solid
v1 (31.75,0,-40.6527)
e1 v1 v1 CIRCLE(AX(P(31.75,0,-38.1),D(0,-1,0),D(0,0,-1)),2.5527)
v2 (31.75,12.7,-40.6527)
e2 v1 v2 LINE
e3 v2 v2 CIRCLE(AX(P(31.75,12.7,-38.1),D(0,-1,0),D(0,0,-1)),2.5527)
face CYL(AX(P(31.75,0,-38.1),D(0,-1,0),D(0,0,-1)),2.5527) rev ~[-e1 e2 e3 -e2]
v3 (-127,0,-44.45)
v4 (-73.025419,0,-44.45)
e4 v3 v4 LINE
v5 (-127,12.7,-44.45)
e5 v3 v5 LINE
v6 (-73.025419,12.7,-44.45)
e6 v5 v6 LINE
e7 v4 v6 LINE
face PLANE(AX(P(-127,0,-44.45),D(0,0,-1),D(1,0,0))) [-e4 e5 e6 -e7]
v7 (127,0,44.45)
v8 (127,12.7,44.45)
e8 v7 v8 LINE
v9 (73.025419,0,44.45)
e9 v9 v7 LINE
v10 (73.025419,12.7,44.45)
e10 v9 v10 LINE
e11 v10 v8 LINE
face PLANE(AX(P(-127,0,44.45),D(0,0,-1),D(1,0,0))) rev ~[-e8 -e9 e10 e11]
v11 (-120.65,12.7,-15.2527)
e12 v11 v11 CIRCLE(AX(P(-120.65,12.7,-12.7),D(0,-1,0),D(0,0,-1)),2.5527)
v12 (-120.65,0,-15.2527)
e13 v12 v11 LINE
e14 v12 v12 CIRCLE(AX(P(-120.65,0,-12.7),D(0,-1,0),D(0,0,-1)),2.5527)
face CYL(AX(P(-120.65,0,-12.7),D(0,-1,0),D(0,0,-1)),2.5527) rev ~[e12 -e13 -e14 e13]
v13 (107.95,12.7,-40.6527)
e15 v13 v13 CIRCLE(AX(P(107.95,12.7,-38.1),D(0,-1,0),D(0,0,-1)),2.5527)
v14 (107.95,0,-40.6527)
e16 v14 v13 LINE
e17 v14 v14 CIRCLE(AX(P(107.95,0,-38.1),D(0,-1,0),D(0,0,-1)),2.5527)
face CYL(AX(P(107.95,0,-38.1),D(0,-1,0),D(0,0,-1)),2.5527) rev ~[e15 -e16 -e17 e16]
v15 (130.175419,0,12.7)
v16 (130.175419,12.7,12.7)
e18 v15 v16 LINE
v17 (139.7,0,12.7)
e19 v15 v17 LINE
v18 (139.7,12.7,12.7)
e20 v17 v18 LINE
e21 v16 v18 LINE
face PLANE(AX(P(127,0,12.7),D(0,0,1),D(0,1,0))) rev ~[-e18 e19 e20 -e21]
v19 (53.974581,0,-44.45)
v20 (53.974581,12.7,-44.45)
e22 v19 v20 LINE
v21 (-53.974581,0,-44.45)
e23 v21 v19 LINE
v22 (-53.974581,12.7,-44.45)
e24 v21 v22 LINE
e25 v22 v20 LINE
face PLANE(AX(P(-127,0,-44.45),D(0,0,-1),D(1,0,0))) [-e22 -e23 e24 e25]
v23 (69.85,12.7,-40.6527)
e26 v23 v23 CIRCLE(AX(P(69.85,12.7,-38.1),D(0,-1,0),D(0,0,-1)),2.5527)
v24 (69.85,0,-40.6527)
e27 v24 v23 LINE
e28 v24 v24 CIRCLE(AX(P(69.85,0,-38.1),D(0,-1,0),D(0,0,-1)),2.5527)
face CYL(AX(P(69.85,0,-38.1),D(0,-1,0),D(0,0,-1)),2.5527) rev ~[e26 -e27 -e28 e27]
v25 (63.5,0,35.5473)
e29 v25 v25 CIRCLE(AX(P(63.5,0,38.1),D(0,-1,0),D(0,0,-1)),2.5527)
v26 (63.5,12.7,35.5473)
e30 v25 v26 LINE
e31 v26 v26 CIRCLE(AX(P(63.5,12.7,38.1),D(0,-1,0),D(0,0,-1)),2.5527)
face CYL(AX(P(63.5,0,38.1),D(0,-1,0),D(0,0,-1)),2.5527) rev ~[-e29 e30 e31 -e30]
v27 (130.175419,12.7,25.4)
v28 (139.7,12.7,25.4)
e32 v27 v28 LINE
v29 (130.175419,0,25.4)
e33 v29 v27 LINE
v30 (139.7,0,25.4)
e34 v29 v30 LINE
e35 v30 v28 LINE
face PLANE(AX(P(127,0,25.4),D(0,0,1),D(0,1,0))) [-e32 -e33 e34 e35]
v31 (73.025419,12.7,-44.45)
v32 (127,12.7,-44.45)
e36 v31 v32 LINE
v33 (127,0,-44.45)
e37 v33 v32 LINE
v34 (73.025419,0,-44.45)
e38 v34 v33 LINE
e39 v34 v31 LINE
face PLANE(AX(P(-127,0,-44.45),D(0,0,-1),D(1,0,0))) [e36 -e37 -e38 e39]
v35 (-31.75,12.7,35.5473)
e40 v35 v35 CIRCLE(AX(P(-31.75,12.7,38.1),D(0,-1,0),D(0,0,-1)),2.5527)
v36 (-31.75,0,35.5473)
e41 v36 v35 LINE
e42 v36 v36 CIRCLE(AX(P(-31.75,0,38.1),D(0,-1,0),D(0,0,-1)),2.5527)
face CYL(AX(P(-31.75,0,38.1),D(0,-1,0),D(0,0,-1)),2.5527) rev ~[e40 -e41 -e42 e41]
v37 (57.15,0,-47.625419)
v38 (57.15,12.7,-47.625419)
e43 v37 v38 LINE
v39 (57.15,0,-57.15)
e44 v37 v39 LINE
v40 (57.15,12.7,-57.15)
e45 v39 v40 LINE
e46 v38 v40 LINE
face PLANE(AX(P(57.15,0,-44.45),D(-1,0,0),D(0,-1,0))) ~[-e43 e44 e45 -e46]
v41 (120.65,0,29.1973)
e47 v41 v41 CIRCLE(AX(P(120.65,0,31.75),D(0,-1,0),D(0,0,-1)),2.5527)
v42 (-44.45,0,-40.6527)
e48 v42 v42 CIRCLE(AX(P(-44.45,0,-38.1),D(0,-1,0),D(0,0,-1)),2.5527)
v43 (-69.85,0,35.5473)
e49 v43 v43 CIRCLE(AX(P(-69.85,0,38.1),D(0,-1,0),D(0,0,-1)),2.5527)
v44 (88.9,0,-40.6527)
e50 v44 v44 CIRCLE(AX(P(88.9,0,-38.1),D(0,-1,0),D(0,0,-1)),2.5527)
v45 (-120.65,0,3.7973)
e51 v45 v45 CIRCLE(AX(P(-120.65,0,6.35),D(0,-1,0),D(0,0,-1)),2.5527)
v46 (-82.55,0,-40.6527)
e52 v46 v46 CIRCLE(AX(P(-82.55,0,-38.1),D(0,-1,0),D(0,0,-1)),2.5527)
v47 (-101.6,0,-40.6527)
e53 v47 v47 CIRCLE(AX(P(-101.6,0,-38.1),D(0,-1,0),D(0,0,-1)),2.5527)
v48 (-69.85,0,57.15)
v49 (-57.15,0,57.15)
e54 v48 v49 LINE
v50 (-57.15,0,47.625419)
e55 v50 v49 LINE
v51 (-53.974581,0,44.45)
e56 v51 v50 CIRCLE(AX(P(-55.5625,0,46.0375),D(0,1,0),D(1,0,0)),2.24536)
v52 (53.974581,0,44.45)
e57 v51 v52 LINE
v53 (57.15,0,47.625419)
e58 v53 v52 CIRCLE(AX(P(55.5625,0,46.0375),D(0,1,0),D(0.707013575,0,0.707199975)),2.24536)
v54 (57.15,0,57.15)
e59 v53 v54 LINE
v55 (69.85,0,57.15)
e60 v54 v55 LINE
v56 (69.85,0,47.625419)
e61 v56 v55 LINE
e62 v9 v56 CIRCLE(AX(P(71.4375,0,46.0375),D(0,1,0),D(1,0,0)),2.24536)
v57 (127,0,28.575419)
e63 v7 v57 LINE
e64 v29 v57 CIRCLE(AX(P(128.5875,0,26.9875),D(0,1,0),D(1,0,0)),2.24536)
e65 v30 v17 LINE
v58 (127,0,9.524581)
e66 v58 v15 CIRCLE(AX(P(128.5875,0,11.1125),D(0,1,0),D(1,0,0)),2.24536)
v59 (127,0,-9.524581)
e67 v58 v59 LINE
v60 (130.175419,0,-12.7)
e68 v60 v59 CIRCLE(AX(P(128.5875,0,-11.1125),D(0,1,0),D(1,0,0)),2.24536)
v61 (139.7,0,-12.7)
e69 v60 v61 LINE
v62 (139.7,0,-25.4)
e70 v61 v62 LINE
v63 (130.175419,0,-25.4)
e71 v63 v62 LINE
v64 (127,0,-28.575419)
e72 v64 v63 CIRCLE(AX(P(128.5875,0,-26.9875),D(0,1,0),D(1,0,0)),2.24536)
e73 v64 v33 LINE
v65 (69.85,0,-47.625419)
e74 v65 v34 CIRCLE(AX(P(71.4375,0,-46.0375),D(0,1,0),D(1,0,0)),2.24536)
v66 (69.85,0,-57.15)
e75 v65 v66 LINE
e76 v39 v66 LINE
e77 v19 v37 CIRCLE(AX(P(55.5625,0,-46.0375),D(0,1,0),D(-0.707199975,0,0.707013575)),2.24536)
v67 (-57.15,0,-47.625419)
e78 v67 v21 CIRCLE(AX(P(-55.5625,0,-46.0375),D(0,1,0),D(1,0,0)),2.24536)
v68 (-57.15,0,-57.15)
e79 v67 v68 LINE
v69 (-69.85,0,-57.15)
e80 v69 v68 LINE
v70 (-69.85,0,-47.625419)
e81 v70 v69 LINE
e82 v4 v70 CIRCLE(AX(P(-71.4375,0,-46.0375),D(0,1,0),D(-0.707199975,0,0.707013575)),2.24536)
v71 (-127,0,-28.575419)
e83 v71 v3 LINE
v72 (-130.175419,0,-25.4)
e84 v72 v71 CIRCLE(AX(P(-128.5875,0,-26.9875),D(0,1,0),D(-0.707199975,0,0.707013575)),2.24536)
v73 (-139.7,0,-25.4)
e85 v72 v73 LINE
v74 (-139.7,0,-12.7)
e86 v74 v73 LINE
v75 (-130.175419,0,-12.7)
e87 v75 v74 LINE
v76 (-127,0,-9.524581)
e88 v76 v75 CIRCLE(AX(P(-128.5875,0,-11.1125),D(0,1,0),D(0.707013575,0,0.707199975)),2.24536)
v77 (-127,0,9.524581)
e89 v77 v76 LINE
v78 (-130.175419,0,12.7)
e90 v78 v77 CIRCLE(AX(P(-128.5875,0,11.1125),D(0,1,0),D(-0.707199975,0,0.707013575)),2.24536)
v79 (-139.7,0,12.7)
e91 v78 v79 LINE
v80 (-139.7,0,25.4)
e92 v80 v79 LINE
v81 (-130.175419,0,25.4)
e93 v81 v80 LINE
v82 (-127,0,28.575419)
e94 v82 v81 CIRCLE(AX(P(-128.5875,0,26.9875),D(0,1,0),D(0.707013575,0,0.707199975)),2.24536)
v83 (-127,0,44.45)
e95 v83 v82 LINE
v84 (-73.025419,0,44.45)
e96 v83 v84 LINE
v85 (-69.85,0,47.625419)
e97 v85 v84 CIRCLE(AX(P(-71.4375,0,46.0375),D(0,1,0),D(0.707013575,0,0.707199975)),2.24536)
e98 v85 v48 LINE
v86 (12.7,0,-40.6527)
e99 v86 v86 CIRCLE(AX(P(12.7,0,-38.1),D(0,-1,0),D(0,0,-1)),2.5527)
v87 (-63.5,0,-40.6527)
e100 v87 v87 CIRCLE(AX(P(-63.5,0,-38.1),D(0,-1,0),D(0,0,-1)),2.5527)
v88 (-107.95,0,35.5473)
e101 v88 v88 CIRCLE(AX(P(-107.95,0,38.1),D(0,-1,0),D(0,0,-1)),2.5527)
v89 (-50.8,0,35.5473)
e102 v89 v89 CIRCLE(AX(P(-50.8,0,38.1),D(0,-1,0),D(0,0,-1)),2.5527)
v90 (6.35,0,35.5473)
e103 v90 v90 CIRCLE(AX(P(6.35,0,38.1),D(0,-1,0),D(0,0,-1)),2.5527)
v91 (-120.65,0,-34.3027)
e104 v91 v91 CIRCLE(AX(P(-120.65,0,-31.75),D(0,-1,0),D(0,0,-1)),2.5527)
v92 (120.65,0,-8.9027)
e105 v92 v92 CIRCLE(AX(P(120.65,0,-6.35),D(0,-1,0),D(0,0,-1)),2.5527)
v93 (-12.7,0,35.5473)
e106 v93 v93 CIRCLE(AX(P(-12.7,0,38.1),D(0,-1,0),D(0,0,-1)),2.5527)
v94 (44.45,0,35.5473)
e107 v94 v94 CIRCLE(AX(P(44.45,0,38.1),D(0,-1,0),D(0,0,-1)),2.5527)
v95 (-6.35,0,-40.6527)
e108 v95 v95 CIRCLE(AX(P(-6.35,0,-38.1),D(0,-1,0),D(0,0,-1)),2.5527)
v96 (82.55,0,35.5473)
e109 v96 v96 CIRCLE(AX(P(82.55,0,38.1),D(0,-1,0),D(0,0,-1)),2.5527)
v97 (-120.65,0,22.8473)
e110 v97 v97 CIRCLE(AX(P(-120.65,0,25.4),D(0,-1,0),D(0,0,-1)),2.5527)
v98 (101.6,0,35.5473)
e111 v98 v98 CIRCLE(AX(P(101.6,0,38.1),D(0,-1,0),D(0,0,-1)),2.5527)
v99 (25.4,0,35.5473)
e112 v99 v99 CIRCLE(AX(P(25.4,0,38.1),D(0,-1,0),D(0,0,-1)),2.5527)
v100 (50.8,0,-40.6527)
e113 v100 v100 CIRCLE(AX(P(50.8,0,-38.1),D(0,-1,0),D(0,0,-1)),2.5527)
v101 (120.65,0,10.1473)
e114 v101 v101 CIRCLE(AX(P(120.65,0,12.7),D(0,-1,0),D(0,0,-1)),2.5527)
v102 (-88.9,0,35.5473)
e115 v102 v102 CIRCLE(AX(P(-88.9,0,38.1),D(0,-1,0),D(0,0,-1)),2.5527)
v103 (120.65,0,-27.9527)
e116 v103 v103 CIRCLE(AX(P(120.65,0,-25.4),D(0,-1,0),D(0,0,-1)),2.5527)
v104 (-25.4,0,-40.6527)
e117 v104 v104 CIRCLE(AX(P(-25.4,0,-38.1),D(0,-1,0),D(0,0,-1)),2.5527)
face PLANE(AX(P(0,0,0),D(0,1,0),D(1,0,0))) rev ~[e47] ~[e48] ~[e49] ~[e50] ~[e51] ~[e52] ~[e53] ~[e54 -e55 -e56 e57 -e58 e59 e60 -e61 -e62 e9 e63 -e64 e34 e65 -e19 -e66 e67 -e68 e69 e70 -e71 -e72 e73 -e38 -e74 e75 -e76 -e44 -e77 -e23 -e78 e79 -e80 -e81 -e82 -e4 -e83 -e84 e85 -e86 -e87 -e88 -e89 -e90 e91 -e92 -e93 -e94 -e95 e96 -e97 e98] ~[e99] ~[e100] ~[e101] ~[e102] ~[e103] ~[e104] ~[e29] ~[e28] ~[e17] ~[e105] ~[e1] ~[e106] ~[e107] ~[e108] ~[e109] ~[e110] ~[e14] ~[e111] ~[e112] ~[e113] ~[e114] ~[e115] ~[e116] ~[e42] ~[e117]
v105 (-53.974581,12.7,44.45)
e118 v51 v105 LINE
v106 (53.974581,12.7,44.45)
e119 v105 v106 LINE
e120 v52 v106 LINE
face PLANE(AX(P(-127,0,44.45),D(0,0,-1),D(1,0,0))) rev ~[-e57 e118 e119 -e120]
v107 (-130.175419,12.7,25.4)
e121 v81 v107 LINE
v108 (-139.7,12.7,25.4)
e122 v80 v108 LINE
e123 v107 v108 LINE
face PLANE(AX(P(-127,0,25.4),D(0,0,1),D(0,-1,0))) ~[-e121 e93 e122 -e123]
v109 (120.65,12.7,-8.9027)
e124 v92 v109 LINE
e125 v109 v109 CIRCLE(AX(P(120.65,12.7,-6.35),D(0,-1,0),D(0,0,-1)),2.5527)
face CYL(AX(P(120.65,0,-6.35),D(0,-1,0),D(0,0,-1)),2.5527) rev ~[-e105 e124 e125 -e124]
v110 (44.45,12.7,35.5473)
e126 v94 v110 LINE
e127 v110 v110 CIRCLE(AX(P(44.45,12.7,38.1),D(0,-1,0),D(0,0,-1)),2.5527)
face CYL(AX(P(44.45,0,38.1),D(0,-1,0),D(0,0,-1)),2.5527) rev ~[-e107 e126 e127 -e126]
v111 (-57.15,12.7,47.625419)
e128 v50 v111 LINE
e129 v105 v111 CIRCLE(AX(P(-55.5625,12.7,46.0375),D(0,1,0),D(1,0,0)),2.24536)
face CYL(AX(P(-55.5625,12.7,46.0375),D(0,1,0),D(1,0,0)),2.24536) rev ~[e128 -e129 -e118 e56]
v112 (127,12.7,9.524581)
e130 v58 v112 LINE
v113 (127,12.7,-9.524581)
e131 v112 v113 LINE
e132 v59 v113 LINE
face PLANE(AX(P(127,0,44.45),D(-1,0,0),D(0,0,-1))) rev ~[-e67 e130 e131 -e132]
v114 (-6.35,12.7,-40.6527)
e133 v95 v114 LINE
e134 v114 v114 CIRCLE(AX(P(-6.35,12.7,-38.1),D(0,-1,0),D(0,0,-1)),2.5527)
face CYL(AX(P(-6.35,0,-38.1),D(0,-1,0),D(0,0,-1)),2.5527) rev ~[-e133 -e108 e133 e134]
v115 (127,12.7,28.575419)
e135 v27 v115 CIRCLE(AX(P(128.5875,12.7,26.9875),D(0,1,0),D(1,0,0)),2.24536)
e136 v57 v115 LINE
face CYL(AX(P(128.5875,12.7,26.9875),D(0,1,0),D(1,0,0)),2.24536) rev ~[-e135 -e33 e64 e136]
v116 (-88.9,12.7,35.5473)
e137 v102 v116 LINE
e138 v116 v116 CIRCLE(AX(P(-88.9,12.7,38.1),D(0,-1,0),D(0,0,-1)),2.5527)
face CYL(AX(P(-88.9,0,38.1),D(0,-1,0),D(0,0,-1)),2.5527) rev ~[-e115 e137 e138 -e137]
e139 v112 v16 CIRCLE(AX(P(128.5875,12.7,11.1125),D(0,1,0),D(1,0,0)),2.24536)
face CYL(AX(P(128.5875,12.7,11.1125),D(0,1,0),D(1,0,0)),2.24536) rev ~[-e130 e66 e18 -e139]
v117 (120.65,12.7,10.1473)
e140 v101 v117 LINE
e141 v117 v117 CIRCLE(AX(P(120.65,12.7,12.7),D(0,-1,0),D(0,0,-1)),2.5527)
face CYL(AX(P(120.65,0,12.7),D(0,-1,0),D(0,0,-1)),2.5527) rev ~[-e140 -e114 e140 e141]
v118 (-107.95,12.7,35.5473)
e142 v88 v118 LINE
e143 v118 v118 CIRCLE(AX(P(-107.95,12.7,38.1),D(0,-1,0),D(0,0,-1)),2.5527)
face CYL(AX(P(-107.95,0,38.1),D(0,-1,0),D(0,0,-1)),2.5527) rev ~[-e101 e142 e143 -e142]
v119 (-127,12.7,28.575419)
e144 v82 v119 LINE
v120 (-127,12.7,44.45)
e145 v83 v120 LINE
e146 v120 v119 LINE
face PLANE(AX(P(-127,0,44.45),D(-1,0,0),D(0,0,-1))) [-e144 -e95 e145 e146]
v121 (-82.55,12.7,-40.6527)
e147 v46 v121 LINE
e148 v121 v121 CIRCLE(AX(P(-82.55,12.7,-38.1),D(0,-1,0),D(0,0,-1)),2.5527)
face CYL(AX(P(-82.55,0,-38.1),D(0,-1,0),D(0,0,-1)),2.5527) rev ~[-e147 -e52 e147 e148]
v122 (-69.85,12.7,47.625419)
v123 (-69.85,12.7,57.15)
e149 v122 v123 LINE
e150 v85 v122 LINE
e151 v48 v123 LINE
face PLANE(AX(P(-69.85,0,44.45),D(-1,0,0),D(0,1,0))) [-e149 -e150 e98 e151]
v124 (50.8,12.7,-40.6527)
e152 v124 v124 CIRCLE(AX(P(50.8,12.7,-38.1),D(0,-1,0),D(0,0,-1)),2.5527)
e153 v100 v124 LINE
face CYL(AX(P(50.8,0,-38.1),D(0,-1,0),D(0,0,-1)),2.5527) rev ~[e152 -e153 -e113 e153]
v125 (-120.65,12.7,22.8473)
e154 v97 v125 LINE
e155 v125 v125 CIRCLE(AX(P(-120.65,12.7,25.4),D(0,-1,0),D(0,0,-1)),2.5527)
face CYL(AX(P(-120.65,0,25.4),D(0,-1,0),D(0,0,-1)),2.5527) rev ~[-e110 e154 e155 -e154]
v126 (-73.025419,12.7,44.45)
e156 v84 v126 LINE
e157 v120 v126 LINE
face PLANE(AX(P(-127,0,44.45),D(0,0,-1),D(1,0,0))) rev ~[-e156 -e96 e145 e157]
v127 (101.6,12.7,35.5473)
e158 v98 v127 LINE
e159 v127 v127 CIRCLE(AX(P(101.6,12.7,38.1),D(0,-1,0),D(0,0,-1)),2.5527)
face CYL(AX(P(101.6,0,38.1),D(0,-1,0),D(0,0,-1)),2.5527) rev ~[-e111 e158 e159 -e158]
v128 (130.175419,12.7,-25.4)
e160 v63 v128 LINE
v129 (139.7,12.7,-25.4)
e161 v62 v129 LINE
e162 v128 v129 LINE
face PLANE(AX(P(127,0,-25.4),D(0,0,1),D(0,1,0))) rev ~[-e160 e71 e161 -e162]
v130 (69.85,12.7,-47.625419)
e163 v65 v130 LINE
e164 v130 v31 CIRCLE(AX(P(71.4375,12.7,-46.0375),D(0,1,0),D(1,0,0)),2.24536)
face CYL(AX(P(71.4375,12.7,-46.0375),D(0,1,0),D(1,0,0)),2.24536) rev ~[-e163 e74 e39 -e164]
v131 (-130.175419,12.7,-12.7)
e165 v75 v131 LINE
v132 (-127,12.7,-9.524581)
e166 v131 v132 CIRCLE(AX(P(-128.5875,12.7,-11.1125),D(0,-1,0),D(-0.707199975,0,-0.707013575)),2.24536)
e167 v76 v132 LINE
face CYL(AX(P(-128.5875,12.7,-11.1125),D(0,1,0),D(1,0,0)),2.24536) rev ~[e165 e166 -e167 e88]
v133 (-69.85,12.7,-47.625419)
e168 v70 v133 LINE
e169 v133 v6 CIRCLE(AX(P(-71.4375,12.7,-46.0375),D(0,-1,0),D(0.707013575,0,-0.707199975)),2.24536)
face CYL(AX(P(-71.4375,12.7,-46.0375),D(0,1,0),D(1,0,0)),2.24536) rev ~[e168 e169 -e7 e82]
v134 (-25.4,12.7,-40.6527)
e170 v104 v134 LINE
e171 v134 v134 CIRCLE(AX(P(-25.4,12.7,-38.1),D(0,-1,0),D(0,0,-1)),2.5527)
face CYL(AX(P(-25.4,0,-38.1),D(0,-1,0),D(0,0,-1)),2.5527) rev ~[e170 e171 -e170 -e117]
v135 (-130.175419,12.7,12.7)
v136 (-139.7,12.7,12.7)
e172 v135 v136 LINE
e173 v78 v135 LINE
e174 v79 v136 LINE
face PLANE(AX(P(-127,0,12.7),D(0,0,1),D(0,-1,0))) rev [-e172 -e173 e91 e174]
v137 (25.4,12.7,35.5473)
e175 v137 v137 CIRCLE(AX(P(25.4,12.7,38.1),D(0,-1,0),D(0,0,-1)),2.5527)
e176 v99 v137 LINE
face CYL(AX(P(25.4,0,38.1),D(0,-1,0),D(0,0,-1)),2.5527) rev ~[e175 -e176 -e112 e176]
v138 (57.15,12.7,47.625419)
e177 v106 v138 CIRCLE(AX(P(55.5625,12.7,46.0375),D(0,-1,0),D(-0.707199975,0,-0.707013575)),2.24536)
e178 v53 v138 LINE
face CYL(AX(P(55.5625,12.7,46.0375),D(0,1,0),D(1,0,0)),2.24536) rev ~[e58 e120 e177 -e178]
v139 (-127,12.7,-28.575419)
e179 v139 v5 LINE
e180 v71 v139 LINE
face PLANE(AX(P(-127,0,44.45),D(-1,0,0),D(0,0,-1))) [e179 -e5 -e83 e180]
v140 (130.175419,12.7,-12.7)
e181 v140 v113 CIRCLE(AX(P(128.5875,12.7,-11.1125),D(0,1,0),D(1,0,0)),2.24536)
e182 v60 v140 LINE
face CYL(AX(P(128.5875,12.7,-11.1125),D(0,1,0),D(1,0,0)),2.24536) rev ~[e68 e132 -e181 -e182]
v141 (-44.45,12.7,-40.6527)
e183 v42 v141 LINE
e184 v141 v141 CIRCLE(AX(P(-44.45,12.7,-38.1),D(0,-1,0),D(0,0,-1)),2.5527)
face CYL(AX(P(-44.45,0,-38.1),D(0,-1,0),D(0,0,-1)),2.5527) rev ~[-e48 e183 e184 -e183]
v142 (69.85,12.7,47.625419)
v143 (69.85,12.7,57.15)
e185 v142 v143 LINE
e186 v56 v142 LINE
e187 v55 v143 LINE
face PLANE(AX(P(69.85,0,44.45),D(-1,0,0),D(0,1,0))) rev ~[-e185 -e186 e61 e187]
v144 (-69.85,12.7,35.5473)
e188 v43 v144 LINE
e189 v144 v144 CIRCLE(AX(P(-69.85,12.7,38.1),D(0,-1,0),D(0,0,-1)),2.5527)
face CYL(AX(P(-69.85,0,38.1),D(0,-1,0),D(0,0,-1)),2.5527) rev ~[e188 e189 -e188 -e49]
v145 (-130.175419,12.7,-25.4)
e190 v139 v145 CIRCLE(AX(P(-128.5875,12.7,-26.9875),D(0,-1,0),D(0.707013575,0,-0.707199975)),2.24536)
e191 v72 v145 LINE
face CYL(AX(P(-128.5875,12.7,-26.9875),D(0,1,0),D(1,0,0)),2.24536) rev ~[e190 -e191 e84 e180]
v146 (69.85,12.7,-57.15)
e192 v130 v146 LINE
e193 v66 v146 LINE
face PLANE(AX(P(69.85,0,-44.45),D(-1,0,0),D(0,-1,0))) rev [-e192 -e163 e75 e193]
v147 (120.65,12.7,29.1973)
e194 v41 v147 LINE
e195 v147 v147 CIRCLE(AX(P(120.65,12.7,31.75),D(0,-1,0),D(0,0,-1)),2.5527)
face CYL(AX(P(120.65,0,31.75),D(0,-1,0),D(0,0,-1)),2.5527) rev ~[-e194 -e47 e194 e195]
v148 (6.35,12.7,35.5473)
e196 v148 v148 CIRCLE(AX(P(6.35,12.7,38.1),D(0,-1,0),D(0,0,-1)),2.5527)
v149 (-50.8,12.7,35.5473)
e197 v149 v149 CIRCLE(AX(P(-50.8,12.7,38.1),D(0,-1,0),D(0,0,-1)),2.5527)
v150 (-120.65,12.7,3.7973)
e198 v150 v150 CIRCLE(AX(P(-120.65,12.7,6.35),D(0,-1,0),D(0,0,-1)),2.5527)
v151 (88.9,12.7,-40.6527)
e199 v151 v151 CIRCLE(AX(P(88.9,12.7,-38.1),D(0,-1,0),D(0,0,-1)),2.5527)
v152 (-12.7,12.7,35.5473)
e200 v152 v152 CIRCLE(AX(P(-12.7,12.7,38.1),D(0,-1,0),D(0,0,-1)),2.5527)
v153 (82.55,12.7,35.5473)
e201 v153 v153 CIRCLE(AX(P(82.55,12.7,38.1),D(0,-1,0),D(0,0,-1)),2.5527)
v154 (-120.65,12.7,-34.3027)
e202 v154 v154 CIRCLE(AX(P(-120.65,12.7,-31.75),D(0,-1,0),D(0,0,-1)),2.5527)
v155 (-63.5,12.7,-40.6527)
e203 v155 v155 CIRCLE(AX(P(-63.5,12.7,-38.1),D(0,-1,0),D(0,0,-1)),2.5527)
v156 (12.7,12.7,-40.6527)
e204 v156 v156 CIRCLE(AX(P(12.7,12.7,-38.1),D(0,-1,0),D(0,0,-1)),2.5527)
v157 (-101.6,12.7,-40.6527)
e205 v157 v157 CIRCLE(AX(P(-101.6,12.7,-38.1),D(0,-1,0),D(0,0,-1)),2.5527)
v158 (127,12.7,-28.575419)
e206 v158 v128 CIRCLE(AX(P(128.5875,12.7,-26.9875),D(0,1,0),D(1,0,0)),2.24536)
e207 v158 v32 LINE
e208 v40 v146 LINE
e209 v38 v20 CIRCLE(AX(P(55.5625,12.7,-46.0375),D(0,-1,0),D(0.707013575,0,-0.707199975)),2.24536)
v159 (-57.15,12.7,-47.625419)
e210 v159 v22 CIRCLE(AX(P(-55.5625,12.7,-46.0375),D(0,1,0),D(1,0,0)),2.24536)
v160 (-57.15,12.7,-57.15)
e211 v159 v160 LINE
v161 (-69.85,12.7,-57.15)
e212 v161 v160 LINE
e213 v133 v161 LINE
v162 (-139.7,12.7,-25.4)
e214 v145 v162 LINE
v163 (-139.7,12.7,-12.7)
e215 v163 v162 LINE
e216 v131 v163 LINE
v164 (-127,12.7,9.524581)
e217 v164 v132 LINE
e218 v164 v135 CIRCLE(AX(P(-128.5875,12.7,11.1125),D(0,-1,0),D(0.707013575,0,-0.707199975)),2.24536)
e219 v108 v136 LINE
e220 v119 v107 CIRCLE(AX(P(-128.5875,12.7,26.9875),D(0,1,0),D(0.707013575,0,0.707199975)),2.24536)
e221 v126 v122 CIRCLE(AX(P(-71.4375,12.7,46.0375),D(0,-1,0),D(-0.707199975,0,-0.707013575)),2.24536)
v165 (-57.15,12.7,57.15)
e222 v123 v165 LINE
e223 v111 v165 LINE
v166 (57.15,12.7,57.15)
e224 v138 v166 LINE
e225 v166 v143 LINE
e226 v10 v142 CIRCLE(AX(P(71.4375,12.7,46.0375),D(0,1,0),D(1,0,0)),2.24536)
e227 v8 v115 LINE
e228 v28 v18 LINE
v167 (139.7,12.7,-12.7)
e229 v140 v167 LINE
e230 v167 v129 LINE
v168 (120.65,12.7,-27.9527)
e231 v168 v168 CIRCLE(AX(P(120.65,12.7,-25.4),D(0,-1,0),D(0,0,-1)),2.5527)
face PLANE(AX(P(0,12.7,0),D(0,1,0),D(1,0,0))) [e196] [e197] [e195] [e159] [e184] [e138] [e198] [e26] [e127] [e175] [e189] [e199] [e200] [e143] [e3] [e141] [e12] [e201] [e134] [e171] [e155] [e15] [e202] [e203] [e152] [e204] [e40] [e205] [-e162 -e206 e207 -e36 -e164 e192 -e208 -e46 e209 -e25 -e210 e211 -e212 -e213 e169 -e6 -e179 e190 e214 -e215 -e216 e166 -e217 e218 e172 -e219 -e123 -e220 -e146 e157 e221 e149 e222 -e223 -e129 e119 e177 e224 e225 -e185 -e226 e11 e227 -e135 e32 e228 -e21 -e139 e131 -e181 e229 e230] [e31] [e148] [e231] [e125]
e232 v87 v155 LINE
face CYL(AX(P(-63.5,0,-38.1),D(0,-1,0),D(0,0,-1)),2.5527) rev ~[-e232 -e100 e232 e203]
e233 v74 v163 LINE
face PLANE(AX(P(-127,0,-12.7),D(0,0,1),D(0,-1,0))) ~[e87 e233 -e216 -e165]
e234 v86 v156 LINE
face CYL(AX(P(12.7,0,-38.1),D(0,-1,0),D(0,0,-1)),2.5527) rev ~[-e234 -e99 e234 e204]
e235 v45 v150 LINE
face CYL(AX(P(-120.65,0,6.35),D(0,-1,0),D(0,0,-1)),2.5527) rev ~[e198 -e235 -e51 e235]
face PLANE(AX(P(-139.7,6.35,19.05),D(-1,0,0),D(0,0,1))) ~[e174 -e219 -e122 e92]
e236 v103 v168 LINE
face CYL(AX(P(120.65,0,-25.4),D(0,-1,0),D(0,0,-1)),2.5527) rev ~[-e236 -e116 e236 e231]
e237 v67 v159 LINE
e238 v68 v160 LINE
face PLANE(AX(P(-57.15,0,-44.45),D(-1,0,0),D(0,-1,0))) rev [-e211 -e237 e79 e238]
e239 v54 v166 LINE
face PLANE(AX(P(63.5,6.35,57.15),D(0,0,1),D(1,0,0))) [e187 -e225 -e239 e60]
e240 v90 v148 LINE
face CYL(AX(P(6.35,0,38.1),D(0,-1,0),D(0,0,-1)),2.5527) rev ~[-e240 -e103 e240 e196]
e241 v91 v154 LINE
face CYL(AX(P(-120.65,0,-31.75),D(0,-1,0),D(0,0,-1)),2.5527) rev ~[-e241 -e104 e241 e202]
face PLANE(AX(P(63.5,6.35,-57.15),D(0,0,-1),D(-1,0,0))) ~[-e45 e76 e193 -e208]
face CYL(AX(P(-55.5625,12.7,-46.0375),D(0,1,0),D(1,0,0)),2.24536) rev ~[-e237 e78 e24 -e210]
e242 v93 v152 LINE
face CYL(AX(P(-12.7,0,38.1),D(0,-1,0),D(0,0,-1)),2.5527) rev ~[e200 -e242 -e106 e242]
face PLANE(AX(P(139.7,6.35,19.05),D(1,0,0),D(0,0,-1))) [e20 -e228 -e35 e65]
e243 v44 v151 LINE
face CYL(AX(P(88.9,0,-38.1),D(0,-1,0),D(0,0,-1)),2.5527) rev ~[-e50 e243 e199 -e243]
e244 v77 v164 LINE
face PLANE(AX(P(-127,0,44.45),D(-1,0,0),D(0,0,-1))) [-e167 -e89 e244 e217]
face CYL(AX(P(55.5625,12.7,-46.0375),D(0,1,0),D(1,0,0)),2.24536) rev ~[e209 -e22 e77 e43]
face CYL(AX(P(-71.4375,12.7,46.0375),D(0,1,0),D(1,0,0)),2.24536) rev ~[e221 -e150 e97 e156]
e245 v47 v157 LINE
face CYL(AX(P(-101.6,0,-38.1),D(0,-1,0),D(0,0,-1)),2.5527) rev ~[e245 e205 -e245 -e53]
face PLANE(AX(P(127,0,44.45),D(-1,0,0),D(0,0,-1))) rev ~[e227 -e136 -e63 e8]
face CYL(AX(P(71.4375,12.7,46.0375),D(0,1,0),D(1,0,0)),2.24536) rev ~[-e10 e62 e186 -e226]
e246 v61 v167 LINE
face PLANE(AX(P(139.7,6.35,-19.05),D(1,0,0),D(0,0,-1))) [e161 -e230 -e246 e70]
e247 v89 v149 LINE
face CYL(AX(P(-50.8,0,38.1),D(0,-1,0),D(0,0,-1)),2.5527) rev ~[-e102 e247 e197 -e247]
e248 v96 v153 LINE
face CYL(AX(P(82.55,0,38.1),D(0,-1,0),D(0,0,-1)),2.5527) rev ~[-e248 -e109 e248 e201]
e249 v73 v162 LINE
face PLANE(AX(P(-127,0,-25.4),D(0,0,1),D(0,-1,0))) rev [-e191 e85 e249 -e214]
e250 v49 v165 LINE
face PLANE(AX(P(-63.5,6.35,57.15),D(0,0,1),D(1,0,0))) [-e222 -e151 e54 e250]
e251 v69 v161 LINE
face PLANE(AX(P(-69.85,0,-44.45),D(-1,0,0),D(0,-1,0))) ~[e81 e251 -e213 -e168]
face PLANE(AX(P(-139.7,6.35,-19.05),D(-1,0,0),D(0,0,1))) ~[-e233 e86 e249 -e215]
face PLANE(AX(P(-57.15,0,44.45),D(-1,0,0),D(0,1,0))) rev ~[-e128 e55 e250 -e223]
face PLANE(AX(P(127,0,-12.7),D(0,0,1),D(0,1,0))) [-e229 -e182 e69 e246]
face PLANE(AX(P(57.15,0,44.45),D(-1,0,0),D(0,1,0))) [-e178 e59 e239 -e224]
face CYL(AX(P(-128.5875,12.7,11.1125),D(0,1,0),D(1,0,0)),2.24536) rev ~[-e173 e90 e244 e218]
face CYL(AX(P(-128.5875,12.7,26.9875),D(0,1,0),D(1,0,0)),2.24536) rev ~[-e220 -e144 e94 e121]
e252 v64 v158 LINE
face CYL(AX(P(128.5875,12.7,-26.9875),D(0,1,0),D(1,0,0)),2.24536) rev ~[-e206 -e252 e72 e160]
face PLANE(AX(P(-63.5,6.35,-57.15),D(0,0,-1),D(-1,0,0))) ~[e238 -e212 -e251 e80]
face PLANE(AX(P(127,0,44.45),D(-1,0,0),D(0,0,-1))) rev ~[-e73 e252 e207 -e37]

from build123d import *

# Parameters (mm, degrees)
SKETCH2_W                  = 254
SKETCH2_H                  = 88.9
RECTANGLE_EXTRUSION_DEPTH  = 12.7
SKETCH4_W                  = 12.7
SKETCH4_H                  = 12.7
FRONT_FACE_TABS_DEPTH      = 12.7
SKETCH6_R                  = 2.24536
TAB_CURVE_FRONT_BACK_DEPTH = 12.7
SKETCH7_W                  = 12.7
SKETCH7_H                  = 12.7
RIGHT_FACE_TABS_DEPTH      = 12.7
SKETCH8_R                  = 2.24536
TAB_CURVE_LEFT_RIGHT_DEPTH = 12.7
SKETCH9_R                  = 2.5527
NUT_STRIPS_CUT_DEPTH       = 152.471127612


with BuildPart() as part:
    # Sketch2 → Rectangle Extrusion (new body)
    with BuildSketch(Plane(origin=(0, 0, 0), x_dir=(1, 0, 0), z_dir=(0, 1, 0))):
        Rectangle(SKETCH2_W, SKETCH2_H)
    extrude(amount=RECTANGLE_EXTRUSION_DEPTH)

    # Sketch4 → Front Face Tabs (add)
    with BuildSketch(Plane.XY.offset(44.45)):
        with Locations((-63.5, 6.35)):
            Rectangle(SKETCH4_W, SKETCH4_H)
        with Locations((63.5, 6.35)):
            Rectangle(SKETCH4_W, SKETCH4_H)
    front_face_tabs = extrude(amount=FRONT_FACE_TABS_DEPTH)

    # Mirror Rear Face Tabs: Front Face Tabs across plane
    add(front_face_tabs.mirror(Plane.XY))

    # Sketch6 → Tab Curve Front Back (cut)
    with BuildSketch(Plane(origin=(0, 12.7, 0), x_dir=(1, 0, 0), z_dir=(0, 1, 0))):
        with Locations((-71.4375, 46.0375)):
            Circle(SKETCH6_R)
        with Locations((-55.5625, 46.0375)):
            Circle(SKETCH6_R)
        with Locations((55.5625, 46.0375)):
            Circle(SKETCH6_R)
        with Locations((71.4375, 46.0375)):
            Circle(SKETCH6_R)
        with Locations((71.4375, -46.0375)):
            Circle(SKETCH6_R)
        with Locations((55.5625, -46.0375)):
            Circle(SKETCH6_R)
        with Locations((-55.5625, -46.0375)):
            Circle(SKETCH6_R)
        with Locations((-71.4375, -46.0375)):
            Circle(SKETCH6_R)
    extrude(amount=-TAB_CURVE_FRONT_BACK_DEPTH, mode=Mode.SUBTRACT)

    # Sketch7 → Right Face Tabs (add)
    with BuildSketch(Plane(origin=(127, 0, 0), x_dir=(0, 0, -1), z_dir=(1, 0, 0))):
        with Locations((-19.05, 6.35)):
            Rectangle(SKETCH7_W, SKETCH7_H)
        with Locations((19.05, 6.35)):
            Rectangle(SKETCH7_W, SKETCH7_H)
    right_face_tabs = extrude(amount=RIGHT_FACE_TABS_DEPTH)

    # Mirror Left Face Tabs: Right Face Tabs across plane
    add(right_face_tabs.mirror(Plane(origin=(0, 0, 0), x_dir=(0, 0, 1), z_dir=(1, 0, 0))))

    # Sketch8 → Tab Curve Left Right (cut)
    with BuildSketch(Plane(origin=(0, 12.7, 0), x_dir=(1, 0, 0), z_dir=(0, 1, 0))):
        with Locations((128.5875, 26.9875)):
            Circle(SKETCH8_R)
        with Locations((128.5875, 11.1125)):
            Circle(SKETCH8_R)
        with Locations((128.5875, -11.1125)):
            Circle(SKETCH8_R)
        with Locations((128.5875, -26.9875)):
            Circle(SKETCH8_R)
        with Locations((-128.5875, -26.9875)):
            Circle(SKETCH8_R)
        with Locations((-128.5875, -11.1125)):
            Circle(SKETCH8_R)
        with Locations((-128.5875, 11.1125)):
            Circle(SKETCH8_R)
        with Locations((-128.5875, 26.9875)):
            Circle(SKETCH8_R)
    extrude(amount=-TAB_CURVE_LEFT_RIGHT_DEPTH, mode=Mode.SUBTRACT)

    # Sketch9 → Nut Strips Cut (cut, through all)
    with BuildSketch(Plane.XZ):
        with Locations(Location((-107.95, 38.1, 0), (0, 0, 270))):
            Circle(SKETCH9_R)
        with Locations(Location((-120.65, 25.4, 0), (0, 0, 270))):
            Circle(SKETCH9_R)
        with Locations(Location((-120.65, 6.35, 0), (0, 0, 270))):
            Circle(SKETCH9_R)
        with Locations(Location((-120.65, -12.7, 0), (0, 0, 270))):
            Circle(SKETCH9_R)
        with Locations(Location((-120.65, -31.75, 0), (0, 0, 270))):
            Circle(SKETCH9_R)
        with Locations(Location((-88.9, 38.1, 0), (0, 0, 270))):
            Circle(SKETCH9_R)
        with Locations(Location((-69.85, 38.1, 0), (0, 0, 270))):
            Circle(SKETCH9_R)
        with Locations(Location((-50.8, 38.1, 0), (0, 0, 270))):
            Circle(SKETCH9_R)
        with Locations(Location((-31.75, 38.1, 0), (0, 0, 270))):
            Circle(SKETCH9_R)
        with Locations(Location((-12.7, 38.1, 0), (0, 0, 270))):
            Circle(SKETCH9_R)
        with Locations(Location((6.35, 38.1, 0), (0, 0, 270))):
            Circle(SKETCH9_R)
        with Locations(Location((25.4, 38.1, 0), (0, 0, 270))):
            Circle(SKETCH9_R)
        with Locations(Location((44.45, 38.1, 0), (0, 0, 270))):
            Circle(SKETCH9_R)
        with Locations(Location((63.5, 38.1, 0), (0, 0, 270))):
            Circle(SKETCH9_R)
        with Locations(Location((82.55, 38.1, 0), (0, 0, 270))):
            Circle(SKETCH9_R)
        with Locations(Location((101.6, 38.1, 0), (0, 0, 270))):
            Circle(SKETCH9_R)
        with Locations(Location((107.95, -38.1, 0), (0, 0, 270))):
            Circle(SKETCH9_R)
        with Locations(Location((120.65, -25.4, 0), (0, 0, 270))):
            Circle(SKETCH9_R)
        with Locations(Location((120.65, -6.35, 0), (0, 0, 270))):
            Circle(SKETCH9_R)
        with Locations(Location((120.65, 12.7, 0), (0, 0, 270))):
            Circle(SKETCH9_R)
        with Locations(Location((120.65, 31.75, 0), (0, 0, 270))):
            Circle(SKETCH9_R)
        with Locations(Location((88.9, -38.1, 0), (0, 0, 270))):
            Circle(SKETCH9_R)
        with Locations(Location((69.85, -38.1, 0), (0, 0, 270))):
            Circle(SKETCH9_R)
        with Locations(Location((50.8, -38.1, 0), (0, 0, 270))):
            Circle(SKETCH9_R)
        with Locations(Location((31.75, -38.1, 0), (0, 0, 270))):
            Circle(SKETCH9_R)
        with Locations(Location((12.7, -38.1, 0), (0, 0, 270))):
            Circle(SKETCH9_R)
        with Locations(Location((-6.35, -38.1, 0), (0, 0, 270))):
            Circle(SKETCH9_R)
        with Locations(Location((-25.4, -38.1, 0), (0, 0, 270))):
            Circle(SKETCH9_R)
        with Locations(Location((-44.45, -38.1, 0), (0, 0, 270))):
            Circle(SKETCH9_R)
        with Locations(Location((-63.5, -38.1, 0), (0, 0, 270))):
            Circle(SKETCH9_R)
        with Locations(Location((-82.55, -38.1, 0), (0, 0, 270))):
            Circle(SKETCH9_R)
        with Locations(Location((-101.6, -38.1, 0), (0, 0, 270))):
            Circle(SKETCH9_R)
    extrude(amount=-NUT_STRIPS_CUT_DEPTH, mode=Mode.SUBTRACT)


solid = part.part
